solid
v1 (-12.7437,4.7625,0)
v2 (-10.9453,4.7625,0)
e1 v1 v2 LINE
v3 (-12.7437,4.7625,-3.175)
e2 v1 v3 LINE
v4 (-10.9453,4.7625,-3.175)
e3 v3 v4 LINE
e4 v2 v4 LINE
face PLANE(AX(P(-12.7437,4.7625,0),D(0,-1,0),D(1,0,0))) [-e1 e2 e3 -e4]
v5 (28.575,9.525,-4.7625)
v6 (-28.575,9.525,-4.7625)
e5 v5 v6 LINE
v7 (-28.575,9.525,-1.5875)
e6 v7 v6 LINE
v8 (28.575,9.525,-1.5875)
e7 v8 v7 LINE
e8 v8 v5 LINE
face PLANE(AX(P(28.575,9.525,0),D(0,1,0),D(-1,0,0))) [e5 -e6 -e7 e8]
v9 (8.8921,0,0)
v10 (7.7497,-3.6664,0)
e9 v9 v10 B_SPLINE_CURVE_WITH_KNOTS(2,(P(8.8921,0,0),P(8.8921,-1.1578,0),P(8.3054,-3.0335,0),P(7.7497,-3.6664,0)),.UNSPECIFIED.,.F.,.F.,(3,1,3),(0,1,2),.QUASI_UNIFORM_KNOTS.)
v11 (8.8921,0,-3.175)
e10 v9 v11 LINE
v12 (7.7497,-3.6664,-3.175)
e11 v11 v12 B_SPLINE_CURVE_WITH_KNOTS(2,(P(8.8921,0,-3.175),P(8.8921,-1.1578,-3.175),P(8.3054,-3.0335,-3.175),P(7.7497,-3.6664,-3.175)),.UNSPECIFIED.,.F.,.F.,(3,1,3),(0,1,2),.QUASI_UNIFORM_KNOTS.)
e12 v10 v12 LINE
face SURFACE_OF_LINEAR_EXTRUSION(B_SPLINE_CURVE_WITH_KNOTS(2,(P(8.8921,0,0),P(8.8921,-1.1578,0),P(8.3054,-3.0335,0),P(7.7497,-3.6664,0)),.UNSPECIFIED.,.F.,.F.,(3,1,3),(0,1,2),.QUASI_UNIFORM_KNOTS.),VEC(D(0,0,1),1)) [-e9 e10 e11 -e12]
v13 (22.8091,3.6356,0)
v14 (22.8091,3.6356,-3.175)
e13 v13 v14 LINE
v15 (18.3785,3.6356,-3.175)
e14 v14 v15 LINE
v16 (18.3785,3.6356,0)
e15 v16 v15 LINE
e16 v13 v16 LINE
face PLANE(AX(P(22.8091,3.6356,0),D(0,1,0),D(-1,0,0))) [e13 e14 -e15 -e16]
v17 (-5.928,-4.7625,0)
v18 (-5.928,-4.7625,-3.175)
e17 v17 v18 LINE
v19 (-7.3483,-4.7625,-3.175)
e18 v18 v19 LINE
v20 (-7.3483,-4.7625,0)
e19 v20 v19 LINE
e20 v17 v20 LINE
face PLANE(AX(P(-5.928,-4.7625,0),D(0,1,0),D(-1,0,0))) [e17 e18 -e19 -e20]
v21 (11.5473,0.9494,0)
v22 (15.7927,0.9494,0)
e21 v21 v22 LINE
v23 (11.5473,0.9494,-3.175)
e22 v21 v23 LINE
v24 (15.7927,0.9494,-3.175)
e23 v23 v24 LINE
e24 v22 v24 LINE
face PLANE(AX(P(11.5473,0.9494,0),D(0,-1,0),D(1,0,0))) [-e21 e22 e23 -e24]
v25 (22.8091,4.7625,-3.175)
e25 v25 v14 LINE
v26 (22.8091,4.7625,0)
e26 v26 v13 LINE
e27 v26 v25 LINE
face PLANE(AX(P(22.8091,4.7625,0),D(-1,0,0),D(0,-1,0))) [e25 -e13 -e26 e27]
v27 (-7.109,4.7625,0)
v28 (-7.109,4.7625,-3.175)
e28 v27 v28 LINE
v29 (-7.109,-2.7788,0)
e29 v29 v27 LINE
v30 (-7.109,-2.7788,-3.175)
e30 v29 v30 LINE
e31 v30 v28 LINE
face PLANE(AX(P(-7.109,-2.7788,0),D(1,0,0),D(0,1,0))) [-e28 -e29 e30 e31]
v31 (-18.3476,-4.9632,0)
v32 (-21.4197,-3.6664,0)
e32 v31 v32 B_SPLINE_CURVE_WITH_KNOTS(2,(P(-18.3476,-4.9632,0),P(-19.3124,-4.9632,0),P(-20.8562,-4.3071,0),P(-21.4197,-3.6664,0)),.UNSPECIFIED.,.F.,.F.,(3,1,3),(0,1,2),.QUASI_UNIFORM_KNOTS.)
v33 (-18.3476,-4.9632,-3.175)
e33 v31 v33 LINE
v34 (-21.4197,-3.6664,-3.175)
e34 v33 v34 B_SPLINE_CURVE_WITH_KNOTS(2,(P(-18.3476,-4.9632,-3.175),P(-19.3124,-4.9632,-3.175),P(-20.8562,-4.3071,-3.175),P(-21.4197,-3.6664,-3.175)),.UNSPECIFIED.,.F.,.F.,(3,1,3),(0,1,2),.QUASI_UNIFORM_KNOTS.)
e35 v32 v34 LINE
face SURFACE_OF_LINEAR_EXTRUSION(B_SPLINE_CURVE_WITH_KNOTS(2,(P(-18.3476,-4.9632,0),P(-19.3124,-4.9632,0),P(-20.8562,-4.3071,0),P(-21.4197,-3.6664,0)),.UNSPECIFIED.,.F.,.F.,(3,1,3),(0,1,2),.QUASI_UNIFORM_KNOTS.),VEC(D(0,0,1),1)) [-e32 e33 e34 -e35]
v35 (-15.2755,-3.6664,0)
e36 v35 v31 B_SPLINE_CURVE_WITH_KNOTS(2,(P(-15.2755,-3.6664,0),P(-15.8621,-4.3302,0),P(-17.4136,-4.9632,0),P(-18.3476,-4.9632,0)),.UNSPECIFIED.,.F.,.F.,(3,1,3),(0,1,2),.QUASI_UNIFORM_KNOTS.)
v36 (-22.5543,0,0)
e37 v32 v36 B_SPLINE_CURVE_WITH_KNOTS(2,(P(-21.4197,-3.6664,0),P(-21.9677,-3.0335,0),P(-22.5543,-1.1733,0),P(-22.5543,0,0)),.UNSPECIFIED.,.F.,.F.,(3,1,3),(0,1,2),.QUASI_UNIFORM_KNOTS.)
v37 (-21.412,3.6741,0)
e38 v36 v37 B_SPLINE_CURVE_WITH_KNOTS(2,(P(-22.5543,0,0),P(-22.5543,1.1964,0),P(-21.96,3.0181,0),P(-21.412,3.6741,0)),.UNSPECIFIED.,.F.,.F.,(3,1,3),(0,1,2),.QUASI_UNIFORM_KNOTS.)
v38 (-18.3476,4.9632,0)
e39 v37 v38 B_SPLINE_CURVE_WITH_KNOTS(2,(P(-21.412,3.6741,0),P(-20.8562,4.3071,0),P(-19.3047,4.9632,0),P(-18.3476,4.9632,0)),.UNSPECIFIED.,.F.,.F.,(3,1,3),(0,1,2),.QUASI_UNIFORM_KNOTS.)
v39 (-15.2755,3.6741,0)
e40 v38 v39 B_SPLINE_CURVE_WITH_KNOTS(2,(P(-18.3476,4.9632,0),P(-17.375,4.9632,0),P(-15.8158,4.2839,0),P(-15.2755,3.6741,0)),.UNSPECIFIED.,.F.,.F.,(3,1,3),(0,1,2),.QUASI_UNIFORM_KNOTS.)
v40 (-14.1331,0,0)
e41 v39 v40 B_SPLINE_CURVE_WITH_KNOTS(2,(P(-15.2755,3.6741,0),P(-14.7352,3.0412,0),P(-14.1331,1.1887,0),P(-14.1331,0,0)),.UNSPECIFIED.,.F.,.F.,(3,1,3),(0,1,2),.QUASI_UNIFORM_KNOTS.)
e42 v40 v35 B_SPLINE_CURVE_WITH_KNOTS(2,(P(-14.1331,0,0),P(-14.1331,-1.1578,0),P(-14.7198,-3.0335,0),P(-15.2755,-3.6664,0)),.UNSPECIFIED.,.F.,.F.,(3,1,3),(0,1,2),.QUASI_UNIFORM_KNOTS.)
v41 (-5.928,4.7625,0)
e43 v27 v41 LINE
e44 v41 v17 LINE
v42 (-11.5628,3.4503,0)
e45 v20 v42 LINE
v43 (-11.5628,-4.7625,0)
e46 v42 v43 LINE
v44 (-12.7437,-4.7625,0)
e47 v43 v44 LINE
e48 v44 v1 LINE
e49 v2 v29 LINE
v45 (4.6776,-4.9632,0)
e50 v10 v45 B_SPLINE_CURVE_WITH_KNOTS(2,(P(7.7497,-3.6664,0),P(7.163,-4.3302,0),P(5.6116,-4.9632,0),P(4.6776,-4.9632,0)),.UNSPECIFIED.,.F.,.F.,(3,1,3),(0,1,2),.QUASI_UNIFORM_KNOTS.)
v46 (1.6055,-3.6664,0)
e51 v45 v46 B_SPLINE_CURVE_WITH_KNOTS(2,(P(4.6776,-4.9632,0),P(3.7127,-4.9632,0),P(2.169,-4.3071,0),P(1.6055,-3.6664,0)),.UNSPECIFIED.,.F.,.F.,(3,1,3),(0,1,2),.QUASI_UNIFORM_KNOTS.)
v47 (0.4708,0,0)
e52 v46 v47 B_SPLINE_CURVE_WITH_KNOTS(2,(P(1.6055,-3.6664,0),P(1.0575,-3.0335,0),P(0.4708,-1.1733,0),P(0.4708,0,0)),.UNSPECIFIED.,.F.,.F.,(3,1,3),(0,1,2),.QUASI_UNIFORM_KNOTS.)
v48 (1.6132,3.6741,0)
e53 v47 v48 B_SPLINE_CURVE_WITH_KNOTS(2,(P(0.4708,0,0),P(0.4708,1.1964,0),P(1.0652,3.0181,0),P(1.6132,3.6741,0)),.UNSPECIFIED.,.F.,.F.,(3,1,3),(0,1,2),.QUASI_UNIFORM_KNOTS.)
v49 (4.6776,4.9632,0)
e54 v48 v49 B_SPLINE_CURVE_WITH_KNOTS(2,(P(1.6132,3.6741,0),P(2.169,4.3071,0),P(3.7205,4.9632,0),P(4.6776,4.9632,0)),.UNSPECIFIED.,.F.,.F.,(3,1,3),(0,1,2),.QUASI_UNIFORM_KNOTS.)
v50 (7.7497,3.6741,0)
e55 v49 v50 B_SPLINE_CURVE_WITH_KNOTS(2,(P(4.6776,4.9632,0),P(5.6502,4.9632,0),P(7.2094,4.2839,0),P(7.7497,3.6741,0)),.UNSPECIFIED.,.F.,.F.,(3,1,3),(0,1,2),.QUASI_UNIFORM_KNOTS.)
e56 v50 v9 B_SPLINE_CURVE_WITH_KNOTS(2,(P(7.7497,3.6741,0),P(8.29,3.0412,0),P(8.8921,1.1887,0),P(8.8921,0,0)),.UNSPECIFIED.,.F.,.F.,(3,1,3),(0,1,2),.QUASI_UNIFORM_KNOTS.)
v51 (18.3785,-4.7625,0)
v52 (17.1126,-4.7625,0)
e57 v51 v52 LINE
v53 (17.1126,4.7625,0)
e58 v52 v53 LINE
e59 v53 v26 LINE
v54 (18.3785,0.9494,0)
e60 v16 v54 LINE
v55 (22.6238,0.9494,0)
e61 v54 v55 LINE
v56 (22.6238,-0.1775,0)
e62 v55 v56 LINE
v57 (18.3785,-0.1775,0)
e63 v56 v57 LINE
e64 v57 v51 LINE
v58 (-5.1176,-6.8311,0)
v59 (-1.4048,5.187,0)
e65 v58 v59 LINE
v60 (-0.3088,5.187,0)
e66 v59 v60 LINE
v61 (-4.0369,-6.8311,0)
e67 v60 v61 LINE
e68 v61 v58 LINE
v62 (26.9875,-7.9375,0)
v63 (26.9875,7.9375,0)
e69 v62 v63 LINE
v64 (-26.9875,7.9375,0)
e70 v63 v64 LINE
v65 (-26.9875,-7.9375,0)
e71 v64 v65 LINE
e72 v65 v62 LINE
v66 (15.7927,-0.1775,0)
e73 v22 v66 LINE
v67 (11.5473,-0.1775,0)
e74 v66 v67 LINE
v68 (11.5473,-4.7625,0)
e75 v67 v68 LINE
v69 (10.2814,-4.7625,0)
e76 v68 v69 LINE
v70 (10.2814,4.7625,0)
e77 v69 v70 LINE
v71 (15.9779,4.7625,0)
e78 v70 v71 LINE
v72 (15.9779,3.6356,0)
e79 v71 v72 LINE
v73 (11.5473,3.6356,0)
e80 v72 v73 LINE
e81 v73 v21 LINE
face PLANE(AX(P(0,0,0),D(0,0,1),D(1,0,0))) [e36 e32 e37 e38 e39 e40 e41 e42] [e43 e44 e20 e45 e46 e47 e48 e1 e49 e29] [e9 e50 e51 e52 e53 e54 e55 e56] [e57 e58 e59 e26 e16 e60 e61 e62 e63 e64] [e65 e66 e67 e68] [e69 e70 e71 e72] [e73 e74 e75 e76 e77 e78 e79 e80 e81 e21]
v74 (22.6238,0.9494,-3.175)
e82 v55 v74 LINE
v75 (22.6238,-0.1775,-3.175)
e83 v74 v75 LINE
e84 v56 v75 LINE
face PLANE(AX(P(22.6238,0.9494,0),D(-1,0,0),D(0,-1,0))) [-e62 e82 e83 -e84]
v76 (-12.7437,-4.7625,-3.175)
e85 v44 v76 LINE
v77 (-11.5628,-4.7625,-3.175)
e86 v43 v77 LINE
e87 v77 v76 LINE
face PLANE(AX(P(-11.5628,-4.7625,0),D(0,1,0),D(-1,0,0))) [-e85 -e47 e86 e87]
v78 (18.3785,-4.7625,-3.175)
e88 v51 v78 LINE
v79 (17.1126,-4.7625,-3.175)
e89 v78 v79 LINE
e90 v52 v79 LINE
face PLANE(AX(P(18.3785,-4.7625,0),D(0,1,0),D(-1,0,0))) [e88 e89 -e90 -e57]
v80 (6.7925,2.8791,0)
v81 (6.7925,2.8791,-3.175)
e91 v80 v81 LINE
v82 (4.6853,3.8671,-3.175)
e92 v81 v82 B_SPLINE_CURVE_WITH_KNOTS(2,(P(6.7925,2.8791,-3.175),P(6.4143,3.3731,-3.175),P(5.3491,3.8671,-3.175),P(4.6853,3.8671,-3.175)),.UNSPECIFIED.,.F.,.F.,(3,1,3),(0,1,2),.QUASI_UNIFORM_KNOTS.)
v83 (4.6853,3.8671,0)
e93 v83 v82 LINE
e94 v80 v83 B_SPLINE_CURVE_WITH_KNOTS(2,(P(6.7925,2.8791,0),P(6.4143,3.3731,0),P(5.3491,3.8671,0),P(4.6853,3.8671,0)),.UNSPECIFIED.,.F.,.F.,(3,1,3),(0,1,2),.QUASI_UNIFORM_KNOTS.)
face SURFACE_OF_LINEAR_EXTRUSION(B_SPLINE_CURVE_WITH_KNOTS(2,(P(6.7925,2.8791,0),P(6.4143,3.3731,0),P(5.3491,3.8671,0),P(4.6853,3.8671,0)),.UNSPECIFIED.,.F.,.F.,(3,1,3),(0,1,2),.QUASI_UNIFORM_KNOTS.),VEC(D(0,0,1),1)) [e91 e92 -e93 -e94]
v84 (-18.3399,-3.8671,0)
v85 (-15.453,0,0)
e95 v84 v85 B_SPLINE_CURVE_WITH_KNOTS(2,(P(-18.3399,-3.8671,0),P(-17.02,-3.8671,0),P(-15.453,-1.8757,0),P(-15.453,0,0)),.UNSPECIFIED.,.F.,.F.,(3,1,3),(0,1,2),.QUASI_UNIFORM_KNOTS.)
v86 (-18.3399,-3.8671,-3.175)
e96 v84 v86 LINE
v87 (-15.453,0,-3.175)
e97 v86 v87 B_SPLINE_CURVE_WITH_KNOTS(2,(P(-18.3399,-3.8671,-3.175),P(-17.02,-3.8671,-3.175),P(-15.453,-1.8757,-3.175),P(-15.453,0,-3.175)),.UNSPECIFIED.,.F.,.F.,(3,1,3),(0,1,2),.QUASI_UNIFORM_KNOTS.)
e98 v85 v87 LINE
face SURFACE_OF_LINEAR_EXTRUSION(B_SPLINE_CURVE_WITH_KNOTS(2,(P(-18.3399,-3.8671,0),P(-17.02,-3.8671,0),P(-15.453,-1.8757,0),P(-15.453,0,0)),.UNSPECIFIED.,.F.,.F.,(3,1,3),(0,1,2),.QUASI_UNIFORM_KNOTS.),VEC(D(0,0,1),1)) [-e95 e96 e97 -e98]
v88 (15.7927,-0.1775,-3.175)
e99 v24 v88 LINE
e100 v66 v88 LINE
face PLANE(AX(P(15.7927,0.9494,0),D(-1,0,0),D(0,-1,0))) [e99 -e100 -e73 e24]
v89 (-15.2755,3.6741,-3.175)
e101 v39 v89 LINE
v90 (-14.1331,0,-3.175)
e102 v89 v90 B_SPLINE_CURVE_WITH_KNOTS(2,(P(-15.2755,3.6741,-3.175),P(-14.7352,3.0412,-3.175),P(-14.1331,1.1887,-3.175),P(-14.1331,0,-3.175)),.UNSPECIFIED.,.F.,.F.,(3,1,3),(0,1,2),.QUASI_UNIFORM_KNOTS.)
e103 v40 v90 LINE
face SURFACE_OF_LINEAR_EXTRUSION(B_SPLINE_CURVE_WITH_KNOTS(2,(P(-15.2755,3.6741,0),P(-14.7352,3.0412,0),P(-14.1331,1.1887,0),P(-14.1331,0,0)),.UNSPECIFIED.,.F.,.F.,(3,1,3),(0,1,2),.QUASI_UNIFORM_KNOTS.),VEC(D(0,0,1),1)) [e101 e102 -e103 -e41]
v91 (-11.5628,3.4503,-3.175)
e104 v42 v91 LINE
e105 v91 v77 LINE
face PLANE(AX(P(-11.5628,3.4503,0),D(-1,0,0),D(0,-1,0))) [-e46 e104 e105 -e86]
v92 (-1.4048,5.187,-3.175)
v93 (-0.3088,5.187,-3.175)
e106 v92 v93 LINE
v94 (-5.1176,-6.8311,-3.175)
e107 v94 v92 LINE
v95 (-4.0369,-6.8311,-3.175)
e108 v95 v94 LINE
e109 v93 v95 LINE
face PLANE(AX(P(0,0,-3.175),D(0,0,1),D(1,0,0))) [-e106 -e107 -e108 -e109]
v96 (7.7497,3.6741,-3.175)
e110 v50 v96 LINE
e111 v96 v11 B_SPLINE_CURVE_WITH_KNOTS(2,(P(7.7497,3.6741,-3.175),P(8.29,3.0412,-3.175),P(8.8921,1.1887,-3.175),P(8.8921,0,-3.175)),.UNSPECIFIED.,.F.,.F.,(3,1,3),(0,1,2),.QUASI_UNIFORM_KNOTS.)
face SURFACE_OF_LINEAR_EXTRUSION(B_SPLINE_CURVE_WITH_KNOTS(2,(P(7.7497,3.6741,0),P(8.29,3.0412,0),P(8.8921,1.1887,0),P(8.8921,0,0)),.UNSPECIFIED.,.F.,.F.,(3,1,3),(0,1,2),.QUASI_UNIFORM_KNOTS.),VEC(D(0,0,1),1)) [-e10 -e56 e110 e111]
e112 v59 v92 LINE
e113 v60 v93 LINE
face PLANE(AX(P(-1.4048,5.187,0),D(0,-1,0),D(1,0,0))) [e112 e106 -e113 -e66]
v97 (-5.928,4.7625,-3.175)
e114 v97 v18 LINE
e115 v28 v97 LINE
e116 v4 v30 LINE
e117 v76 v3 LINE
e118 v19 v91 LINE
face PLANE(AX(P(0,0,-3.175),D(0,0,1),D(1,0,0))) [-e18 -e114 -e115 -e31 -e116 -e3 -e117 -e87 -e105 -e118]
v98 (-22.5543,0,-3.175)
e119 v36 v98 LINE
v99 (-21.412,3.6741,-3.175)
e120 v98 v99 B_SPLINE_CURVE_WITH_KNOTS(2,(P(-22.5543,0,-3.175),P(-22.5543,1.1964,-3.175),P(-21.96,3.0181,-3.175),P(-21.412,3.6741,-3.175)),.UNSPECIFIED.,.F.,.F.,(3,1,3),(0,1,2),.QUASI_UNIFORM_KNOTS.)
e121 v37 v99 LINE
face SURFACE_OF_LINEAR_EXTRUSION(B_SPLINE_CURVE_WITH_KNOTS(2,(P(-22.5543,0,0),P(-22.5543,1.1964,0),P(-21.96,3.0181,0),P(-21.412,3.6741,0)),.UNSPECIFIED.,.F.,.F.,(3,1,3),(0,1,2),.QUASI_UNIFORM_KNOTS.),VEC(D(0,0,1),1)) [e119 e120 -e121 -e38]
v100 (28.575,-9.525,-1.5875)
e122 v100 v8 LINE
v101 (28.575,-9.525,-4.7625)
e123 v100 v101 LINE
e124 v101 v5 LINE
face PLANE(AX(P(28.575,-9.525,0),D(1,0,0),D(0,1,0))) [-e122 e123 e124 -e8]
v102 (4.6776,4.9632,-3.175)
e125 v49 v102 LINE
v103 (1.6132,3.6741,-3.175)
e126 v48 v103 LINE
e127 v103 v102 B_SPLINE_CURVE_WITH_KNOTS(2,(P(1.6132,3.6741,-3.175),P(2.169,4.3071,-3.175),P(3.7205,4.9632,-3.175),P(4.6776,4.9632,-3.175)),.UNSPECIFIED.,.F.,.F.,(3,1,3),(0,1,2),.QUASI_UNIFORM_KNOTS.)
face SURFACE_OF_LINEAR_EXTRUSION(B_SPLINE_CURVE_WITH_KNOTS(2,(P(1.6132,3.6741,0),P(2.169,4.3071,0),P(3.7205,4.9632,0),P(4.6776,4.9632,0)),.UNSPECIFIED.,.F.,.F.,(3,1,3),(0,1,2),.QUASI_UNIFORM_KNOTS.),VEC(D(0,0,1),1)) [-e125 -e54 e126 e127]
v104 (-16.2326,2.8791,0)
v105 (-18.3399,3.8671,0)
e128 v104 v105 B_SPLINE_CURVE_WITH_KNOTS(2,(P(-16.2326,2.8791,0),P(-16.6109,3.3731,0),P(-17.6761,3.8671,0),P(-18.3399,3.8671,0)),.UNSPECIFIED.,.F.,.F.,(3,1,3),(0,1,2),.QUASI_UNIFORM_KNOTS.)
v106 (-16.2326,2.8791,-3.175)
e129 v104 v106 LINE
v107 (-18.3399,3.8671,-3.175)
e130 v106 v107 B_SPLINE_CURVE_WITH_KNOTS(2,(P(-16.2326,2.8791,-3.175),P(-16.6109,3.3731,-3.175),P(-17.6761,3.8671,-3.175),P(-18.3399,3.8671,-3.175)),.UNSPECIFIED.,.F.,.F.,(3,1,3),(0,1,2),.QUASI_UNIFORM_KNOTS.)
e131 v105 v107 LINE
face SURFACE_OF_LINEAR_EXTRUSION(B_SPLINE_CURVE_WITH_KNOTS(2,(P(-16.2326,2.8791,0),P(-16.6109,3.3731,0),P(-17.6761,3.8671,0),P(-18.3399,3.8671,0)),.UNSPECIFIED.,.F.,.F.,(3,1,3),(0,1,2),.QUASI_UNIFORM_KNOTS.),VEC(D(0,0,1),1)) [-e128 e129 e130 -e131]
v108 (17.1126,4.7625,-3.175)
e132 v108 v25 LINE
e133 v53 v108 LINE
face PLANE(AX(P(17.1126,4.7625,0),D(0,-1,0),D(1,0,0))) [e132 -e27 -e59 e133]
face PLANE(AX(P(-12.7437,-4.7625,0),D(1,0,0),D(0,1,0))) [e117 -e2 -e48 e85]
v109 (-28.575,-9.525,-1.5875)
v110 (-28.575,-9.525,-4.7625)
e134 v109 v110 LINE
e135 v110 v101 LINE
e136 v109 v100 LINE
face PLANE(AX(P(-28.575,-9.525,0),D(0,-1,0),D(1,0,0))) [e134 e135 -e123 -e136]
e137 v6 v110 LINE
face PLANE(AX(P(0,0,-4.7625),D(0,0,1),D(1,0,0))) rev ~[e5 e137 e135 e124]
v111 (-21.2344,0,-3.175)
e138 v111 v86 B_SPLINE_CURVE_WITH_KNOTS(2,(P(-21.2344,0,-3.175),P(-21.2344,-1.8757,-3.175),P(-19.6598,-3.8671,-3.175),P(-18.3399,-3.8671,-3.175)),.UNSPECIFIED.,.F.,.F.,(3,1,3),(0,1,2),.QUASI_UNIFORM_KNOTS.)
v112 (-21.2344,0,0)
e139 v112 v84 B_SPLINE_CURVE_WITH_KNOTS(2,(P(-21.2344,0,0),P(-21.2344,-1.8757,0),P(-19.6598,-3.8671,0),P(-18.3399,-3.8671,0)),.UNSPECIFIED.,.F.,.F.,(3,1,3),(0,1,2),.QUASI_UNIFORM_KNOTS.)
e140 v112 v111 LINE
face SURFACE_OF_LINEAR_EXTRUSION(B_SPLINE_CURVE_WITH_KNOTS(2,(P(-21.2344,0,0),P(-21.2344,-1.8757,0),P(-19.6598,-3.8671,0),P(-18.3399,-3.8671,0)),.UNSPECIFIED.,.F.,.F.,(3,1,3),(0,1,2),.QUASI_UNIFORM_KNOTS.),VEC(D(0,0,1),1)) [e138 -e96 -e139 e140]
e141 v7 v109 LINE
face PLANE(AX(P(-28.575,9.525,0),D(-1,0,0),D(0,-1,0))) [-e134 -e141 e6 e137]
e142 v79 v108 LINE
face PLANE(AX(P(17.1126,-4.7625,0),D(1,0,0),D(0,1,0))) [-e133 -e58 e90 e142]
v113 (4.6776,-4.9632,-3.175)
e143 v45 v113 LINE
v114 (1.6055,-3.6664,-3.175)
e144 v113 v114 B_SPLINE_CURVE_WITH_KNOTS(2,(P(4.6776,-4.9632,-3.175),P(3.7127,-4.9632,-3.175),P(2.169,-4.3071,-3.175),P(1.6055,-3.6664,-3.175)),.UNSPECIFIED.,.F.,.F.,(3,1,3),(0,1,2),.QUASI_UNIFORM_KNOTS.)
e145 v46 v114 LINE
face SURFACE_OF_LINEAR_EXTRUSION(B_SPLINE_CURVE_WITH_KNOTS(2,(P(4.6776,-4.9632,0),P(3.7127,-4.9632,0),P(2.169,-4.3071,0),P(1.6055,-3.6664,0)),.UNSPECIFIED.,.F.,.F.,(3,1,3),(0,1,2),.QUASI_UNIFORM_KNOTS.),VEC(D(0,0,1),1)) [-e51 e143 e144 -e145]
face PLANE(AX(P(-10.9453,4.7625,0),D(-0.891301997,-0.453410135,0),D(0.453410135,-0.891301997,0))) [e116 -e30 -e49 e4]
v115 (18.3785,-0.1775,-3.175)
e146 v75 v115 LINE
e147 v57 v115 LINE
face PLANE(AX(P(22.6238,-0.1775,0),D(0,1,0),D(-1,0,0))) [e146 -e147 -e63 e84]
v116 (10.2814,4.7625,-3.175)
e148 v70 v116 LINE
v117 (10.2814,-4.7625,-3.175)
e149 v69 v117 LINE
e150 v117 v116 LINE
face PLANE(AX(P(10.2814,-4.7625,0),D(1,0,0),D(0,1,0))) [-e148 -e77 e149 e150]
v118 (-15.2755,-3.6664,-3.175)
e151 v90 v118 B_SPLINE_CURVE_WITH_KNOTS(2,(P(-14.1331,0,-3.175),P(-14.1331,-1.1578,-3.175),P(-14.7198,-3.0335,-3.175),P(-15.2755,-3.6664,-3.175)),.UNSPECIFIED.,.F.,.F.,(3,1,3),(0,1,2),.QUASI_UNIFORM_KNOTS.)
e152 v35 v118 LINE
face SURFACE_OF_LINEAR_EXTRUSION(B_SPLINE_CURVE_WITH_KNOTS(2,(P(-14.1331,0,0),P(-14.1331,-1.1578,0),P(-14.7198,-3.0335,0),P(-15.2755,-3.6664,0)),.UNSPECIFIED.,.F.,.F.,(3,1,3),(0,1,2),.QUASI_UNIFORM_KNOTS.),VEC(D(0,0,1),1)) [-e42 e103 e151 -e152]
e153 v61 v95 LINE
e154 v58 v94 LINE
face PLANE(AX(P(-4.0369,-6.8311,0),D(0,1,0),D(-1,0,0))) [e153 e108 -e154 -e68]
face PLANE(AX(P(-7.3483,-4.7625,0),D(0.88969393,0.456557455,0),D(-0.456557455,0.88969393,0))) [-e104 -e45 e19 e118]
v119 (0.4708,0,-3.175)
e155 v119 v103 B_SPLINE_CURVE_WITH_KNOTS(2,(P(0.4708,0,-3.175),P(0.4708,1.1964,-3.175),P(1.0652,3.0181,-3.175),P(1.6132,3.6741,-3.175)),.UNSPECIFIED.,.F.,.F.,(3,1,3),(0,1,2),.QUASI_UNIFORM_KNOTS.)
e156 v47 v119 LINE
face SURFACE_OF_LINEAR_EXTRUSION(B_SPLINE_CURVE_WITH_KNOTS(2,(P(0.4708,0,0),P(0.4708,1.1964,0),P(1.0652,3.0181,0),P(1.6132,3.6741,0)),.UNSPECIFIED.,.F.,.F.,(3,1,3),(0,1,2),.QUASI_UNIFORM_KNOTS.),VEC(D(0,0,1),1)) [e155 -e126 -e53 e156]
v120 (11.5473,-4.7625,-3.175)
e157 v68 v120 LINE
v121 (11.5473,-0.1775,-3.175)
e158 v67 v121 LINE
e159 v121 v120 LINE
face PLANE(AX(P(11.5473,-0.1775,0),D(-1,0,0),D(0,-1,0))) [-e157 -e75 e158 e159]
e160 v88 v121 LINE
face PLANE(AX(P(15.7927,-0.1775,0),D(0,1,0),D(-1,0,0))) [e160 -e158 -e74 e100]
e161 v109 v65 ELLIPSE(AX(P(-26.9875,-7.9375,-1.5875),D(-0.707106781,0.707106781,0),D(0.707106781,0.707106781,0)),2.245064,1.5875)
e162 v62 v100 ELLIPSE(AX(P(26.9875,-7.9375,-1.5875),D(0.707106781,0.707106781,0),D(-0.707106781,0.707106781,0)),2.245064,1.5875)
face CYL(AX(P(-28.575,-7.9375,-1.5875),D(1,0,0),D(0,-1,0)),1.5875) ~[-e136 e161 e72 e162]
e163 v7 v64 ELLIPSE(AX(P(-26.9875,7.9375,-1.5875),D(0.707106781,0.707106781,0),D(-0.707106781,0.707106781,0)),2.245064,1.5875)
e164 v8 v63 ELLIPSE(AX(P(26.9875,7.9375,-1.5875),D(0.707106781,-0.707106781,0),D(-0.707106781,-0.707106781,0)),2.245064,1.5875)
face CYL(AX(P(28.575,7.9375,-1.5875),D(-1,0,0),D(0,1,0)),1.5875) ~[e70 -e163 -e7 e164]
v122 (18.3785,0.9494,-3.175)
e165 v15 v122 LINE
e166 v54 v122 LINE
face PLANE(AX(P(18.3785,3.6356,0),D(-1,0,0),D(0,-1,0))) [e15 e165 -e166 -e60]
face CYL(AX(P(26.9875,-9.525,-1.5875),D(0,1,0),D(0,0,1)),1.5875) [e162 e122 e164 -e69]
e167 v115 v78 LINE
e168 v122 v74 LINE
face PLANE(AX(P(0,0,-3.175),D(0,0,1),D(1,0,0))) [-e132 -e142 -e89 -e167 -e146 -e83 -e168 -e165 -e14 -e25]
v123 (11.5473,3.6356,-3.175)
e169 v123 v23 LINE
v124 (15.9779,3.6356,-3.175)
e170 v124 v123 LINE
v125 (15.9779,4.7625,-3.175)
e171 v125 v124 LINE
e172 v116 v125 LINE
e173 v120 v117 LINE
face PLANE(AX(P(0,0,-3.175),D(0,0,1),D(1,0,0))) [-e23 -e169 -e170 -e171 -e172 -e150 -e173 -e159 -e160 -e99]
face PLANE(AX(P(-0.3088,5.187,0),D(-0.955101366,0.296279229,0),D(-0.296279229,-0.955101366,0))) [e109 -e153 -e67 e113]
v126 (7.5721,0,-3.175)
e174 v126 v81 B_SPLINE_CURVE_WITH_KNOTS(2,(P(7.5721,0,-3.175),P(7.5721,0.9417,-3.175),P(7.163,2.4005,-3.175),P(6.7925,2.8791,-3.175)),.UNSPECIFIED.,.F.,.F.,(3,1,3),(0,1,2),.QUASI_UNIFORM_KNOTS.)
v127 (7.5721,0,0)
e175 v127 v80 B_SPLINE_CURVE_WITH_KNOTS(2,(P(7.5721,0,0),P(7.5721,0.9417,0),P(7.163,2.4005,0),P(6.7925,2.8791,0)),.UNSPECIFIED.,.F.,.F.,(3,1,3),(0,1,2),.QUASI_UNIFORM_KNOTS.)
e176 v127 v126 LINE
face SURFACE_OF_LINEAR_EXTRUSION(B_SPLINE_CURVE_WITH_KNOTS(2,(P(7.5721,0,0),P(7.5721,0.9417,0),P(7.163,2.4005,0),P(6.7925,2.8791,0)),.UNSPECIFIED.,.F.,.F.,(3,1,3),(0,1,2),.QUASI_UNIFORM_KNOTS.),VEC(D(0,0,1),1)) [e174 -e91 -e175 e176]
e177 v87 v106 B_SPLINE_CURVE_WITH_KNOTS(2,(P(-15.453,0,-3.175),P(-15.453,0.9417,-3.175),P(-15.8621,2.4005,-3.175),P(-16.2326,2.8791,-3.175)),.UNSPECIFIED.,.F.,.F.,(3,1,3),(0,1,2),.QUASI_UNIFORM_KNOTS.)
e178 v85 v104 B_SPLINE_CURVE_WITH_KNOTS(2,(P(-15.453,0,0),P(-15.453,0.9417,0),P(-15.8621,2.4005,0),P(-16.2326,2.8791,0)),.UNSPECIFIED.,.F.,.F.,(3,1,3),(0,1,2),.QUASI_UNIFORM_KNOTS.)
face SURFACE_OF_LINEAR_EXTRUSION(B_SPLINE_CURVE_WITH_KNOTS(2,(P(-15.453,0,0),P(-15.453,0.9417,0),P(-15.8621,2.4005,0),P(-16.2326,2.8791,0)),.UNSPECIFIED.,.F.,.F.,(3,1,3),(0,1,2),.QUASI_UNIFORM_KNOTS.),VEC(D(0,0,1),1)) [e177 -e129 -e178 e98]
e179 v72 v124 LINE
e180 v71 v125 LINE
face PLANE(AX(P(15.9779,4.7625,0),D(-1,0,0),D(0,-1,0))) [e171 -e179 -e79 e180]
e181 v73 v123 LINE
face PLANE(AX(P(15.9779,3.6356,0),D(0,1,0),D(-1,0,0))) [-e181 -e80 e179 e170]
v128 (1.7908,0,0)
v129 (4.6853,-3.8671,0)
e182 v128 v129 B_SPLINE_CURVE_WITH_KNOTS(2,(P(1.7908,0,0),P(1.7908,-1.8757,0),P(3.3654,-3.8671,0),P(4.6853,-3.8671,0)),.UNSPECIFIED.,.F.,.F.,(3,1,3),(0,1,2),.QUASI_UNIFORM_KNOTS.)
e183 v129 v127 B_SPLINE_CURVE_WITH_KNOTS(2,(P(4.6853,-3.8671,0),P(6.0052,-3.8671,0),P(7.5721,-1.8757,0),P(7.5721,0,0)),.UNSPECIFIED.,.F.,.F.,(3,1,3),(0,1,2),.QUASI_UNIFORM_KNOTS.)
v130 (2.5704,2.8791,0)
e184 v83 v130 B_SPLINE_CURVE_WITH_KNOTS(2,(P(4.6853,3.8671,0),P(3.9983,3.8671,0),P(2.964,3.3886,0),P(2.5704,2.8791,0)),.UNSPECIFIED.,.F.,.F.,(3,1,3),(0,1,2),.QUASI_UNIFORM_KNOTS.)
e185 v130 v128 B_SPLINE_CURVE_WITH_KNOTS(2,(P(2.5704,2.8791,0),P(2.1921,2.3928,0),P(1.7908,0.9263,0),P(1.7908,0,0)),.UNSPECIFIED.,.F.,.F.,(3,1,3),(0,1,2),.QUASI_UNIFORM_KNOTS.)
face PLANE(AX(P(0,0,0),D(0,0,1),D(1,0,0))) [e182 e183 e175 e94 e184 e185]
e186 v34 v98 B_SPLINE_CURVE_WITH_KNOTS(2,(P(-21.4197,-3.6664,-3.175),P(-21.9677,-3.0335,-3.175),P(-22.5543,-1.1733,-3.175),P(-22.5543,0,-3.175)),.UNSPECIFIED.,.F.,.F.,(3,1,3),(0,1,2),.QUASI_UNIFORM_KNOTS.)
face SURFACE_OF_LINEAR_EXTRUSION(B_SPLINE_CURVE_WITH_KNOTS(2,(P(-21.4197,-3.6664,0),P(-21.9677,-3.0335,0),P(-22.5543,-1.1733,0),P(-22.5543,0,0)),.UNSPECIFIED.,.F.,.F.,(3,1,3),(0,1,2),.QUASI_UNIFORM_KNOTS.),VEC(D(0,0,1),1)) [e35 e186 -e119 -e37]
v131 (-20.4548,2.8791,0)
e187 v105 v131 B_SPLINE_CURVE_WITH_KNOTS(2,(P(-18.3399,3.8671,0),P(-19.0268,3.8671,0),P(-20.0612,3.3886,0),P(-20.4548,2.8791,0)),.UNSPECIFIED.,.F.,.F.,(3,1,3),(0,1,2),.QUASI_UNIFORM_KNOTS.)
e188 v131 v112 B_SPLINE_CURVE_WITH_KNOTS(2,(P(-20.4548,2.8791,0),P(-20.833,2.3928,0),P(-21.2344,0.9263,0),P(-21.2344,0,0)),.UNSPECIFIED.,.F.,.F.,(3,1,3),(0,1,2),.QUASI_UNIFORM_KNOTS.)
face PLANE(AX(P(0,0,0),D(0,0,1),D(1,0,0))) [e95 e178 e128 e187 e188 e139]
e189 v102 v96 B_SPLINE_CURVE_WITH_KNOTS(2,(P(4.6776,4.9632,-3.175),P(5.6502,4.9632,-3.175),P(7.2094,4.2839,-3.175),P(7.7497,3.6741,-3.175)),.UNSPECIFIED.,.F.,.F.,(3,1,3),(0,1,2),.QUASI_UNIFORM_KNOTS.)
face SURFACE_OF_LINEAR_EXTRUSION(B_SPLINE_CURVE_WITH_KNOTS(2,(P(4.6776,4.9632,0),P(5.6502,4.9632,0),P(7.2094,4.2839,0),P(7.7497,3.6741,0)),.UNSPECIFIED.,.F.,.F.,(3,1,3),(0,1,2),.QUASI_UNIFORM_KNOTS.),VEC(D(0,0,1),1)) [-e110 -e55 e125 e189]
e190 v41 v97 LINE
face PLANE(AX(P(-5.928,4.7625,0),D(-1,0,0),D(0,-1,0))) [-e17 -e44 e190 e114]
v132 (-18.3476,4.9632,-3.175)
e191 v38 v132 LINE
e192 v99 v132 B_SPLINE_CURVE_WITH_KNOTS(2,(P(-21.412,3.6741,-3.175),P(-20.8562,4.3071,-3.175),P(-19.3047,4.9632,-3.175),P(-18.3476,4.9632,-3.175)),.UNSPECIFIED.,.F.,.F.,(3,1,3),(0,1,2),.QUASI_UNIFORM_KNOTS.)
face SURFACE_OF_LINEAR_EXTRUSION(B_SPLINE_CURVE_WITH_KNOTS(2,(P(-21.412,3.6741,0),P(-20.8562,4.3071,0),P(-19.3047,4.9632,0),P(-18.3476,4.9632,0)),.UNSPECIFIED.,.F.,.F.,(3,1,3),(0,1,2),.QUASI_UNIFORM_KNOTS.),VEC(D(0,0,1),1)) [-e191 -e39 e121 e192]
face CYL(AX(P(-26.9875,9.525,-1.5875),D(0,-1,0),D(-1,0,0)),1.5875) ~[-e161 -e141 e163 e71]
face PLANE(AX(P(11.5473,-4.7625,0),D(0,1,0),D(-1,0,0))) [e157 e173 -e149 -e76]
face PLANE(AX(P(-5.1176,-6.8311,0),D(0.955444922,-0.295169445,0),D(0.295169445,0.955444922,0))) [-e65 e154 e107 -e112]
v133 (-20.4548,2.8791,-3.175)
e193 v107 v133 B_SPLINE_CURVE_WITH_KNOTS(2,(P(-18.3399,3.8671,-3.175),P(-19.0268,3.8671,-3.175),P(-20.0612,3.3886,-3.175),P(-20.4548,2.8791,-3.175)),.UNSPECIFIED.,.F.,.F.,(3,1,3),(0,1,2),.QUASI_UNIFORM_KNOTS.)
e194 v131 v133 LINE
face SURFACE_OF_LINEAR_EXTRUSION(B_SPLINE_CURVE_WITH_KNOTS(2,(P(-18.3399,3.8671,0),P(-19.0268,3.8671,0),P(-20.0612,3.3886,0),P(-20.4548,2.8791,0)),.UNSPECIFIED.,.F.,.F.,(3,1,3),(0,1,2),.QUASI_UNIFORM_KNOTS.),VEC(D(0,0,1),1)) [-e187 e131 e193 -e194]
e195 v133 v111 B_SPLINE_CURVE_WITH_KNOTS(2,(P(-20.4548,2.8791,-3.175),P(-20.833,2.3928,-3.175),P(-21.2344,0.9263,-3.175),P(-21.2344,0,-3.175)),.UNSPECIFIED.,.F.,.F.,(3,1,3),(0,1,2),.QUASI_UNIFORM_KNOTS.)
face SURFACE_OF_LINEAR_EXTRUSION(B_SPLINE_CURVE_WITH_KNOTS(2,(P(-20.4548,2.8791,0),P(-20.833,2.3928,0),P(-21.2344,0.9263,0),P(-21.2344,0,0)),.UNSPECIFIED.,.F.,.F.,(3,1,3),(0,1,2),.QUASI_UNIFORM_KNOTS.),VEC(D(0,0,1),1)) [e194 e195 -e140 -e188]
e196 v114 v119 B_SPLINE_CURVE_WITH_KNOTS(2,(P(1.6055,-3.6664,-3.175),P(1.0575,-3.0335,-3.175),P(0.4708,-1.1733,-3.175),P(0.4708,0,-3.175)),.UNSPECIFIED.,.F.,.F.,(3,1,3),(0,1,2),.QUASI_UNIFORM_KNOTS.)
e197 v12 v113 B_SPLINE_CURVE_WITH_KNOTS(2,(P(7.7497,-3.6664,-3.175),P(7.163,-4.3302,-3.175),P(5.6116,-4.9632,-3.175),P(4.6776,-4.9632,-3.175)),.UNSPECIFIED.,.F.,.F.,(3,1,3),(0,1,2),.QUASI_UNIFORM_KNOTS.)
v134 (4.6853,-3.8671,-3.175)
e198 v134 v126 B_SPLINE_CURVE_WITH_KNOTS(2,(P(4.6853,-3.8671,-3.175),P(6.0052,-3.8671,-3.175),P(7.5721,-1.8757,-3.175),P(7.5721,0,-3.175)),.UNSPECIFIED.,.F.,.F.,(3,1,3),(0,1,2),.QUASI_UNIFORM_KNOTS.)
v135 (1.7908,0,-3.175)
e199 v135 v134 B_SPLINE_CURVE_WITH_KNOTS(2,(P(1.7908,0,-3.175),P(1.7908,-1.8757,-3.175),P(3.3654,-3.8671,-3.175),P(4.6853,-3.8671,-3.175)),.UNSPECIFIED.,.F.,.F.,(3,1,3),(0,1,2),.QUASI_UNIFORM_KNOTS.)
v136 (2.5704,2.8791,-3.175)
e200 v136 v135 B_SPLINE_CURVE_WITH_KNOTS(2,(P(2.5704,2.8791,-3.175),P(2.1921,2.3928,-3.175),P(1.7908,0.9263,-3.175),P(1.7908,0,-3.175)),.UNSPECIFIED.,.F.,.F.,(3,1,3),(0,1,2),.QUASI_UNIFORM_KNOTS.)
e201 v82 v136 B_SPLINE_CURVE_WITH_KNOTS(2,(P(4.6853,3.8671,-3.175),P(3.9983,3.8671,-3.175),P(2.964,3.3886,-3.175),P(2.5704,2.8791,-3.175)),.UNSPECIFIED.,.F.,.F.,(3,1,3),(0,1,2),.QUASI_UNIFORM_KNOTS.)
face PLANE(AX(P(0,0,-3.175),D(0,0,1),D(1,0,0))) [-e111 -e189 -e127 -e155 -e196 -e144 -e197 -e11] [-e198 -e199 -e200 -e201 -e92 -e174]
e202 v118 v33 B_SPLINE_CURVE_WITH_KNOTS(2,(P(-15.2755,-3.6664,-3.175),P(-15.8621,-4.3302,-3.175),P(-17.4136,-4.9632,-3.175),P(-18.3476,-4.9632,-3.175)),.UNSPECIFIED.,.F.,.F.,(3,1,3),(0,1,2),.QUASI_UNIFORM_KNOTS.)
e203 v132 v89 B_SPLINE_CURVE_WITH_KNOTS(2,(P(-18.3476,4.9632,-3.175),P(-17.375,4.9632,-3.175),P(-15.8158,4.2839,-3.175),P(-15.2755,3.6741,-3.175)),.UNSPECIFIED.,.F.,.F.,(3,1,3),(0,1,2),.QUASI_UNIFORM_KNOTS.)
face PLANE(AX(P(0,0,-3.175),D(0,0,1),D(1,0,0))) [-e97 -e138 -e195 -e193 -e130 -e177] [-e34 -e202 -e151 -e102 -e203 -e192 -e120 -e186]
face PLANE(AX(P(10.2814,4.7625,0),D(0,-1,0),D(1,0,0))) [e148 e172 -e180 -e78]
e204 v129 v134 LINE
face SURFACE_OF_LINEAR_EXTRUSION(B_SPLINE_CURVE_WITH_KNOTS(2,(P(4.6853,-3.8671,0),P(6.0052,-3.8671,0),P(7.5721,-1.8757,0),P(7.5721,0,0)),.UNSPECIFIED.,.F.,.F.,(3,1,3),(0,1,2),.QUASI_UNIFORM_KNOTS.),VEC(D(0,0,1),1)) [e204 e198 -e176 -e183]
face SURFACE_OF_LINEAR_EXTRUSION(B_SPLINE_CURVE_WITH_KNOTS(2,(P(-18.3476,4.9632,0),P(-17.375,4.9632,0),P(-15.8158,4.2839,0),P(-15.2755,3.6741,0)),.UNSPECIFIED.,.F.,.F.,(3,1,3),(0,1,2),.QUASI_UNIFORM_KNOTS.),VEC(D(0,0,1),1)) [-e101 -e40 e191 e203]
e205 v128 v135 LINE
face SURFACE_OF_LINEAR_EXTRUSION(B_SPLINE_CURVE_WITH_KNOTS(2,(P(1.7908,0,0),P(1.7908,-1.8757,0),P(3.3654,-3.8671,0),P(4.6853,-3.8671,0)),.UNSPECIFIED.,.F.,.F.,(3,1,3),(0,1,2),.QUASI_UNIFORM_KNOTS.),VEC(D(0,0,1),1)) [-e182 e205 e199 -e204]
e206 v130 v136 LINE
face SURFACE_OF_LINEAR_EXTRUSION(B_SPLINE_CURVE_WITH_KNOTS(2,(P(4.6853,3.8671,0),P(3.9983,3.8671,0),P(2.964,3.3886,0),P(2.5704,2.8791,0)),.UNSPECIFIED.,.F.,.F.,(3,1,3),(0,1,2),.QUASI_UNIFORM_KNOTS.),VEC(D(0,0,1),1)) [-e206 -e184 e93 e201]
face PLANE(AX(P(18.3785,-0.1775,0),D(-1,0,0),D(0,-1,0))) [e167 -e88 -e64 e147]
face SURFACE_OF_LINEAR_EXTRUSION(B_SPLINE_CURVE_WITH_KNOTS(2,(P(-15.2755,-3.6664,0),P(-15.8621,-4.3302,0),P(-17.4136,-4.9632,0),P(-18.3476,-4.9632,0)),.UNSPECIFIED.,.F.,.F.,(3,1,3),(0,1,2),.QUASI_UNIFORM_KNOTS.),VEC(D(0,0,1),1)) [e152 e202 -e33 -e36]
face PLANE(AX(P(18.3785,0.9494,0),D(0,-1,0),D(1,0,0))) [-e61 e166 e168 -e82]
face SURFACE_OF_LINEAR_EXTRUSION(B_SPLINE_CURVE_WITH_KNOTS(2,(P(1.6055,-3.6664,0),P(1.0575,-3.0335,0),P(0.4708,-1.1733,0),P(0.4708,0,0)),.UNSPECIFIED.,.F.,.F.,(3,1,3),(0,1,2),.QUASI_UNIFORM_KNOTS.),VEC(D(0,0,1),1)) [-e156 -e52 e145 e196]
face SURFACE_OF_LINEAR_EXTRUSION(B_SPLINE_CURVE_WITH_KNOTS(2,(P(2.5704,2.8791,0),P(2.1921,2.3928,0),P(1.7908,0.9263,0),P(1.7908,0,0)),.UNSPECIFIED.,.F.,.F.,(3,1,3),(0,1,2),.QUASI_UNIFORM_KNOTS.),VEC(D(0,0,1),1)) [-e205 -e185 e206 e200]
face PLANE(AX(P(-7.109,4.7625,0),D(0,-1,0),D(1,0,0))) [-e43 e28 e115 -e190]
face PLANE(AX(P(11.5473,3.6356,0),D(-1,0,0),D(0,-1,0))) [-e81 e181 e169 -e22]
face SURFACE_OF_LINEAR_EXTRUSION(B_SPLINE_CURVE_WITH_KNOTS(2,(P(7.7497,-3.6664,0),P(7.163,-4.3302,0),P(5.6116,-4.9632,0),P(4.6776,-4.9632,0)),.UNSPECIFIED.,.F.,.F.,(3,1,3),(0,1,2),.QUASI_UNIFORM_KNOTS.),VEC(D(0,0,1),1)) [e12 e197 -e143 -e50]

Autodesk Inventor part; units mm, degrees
ref_plane "YZ Plane" through (0, 0, 0) normal (1, 0, 0) x (0, 1, 0)
ref_plane "XZ Plane" through (0, 0, 0) normal (0, 1, 0) x (-1, 0, 0)
ref_plane "XY Plane" through (0, 0, 0) normal (0, 0, 1) x (1, 0, 0)
sketch "Sketch1" plane through (0, 0, 0) normal (0, 0, 1) x (1, 0, 0)
  line L0 (-28.575, -9.525) -> (28.575, -9.525)
  line L1 (28.575, -9.525) -> (28.575, 9.525)
  line L2 (28.575, 9.525) -> (-28.575, 9.525)
  line L3 (-28.575, 9.525) -> (-28.575, -9.525)
  line L4 (-28.575, -9.525) -> (28.575, 9.525) construction
  line L5 (28.575, -9.525) -> (-28.575, 9.525) construction
  point P0 (0, 0)
  dimension "d0" = 57.15
  dimension "d1" = 19.05
extrude "Extrusion1" add sketch "Sketch1" against normal blind 4.7625
sketch "Sketch2" plane through (0, 0, 0) normal (0, 0, 1) x (1, 0, 0)
  line L0 (-28.575, -9.525) -> (-28.575, 9.525) construction
  line L1 (-28.575, 0) -> (28.575, 0) construction
  line L2 (28.575, 9.525) -> (28.575, -9.525) construction
  spline S0 degree 2 poles (-15.2755, 3.6741) (-14.7352, 3.0412) (-14.1331, 1.1887) (-14.1331, 0) knots 0 0 0 1 2 2 2
  spline S1 degree 2 poles (-14.1331, 0) (-14.1331, -1.1578) (-14.7198, -3.0335) (-15.2755, -3.6664) knots 0 0 0 1 2 2 2
  spline S2 degree 2 poles (-15.2755, -3.6664) (-15.8621, -4.3302) (-17.4136, -4.9632) (-18.3476, -4.9632) knots 0 0 0 1 2 2 2
  spline S3 degree 2 poles (-18.3476, -4.9632) (-19.3124, -4.9632) (-20.8562, -4.3071) (-21.4197, -3.6664) knots 0 0 0 1 2 2 2
  spline S4 degree 2 poles (-21.4197, -3.6664) (-21.9677, -3.0335) (-22.5543, -1.1733) (-22.5543, 0) knots 0 0 0 1 2 2 2
  spline S5 degree 2 poles (-22.5543, 0) (-22.5543, 1.1964) (-21.96, 3.0181) (-21.412, 3.6741) knots 0 0 0 1 2 2 2
  spline S6 degree 2 poles (-21.412, 3.6741) (-20.8562, 4.3071) (-19.3047, 4.9632) (-18.3476, 4.9632) knots 0 0 0 1 2 2 2
  spline S7 degree 2 poles (-18.3476, 4.9632) (-17.375, 4.9632) (-15.8158, 4.2839) (-15.2755, 3.6741) knots 0 0 0 1 2 2 2
  spline S8 degree 2 poles (-15.453, 0) (-15.453, 0.9417) (-15.8621, 2.4005) (-16.2326, 2.8791) knots 0 0 0 1 2 2 2
  spline S9 degree 2 poles (-16.2326, 2.8791) (-16.6109, 3.3731) (-17.6761, 3.8671) (-18.3399, 3.8671) knots 0 0 0 1 2 2 2
  spline S10 degree 2 poles (-18.3399, 3.8671) (-19.0268, 3.8671) (-20.0612, 3.3886) (-20.4548, 2.8791) knots 0 0 0 1 2 2 2
  spline S11 degree 2 poles (-20.4548, 2.8791) (-20.833, 2.3928) (-21.2344, 0.9263) (-21.2344, 0) knots 0 0 0 1 2 2 2
  spline S12 degree 2 poles (-21.2344, 0) (-21.2344, -1.8757) (-19.6598, -3.8671) (-18.3399, -3.8671) knots 0 0 0 1 2 2 2
  spline S13 degree 2 poles (-18.3399, -3.8671) (-17.02, -3.8671) (-15.453, -1.8757) (-15.453, 0) knots 0 0 0 1 2 2 2
  line L3 (-5.928, -4.7625) -> (-7.3483, -4.7625)
  line L4 (-7.3483, -4.7625) -> (-11.5628, 3.4503)
  line L5 (-11.5628, 3.4503) -> (-11.5628, -4.7625)
  line L6 (-11.5628, -4.7625) -> (-12.7437, -4.7625)
  line L7 (-12.7437, -4.7625) -> (-12.7437, 4.7625)
  line L8 (-12.7437, 4.7625) -> (-10.9453, 4.7625)
  line L9 (-10.9453, 4.7625) -> (-7.109, -2.7788)
  line L10 (-7.109, -2.7788) -> (-7.109, 4.7625)
  line L11 (-7.109, 4.7625) -> (-5.928, 4.7625)
  line L12 (-5.928, 4.7625) -> (-5.928, -4.7625)
  line L13 (-0.3088, 5.187) -> (-4.0369, -6.8311)
  line L14 (-4.0369, -6.8311) -> (-5.1176, -6.8311)
  line L15 (-5.1176, -6.8311) -> (-1.4048, 5.187)
  line L16 (-1.4048, 5.187) -> (-0.3088, 5.187)
  spline S14 degree 2 poles (7.7497, 3.6741) (8.29, 3.0412) (8.8921, 1.1887) (8.8921, 0) knots 0 0 0 1 2 2 2
  spline S15 degree 2 poles (8.8921, 0) (8.8921, -1.1578) (8.3054, -3.0335) (7.7497, -3.6664) knots 0 0 0 1 2 2 2
  spline S16 degree 2 poles (7.7497, -3.6664) (7.163, -4.3302) (5.6116, -4.9632) (4.6776, -4.9632) knots 0 0 0 1 2 2 2
  spline S17 degree 2 poles (4.6776, -4.9632) (3.7127, -4.9632) (2.169, -4.3071) (1.6055, -3.6664) knots 0 0 0 1 2 2 2
  spline S18 degree 2 poles (1.6055, -3.6664) (1.0575, -3.0335) (0.4708, -1.1733) (0.4708, 0) knots 0 0 0 1 2 2 2
  spline S19 degree 2 poles (0.4708, 0) (0.4708, 1.1964) (1.0652, 3.0181) (1.6132, 3.6741) knots 0 0 0 1 2 2 2
  spline S20 degree 2 poles (1.6132, 3.6741) (2.169, 4.3071) (3.7205, 4.9632) (4.6776, 4.9632) knots 0 0 0 1 2 2 2
  spline S21 degree 2 poles (4.6776, 4.9632) (5.6502, 4.9632) (7.2094, 4.2839) (7.7497, 3.6741) knots 0 0 0 1 2 2 2
  spline S22 degree 2 poles (7.5721, 0) (7.5721, 0.9417) (7.163, 2.4005) (6.7925, 2.8791) knots 0 0 0 1 2 2 2
  spline S23 degree 2 poles (6.7925, 2.8791) (6.4143, 3.3731) (5.3491, 3.8671) (4.6853, 3.8671) knots 0 0 0 1 2 2 2
  spline S24 degree 2 poles (4.6853, 3.8671) (3.9983, 3.8671) (2.964, 3.3886) (2.5704, 2.8791) knots 0 0 0 1 2 2 2
  spline S25 degree 2 poles (2.5704, 2.8791) (2.1921, 2.3928) (1.7908, 0.9263) (1.7908, 0) knots 0 0 0 1 2 2 2
  spline S26 degree 2 poles (1.7908, 0) (1.7908, -1.8757) (3.3654, -3.8671) (4.6853, -3.8671) knots 0 0 0 1 2 2 2
  spline S27 degree 2 poles (4.6853, -3.8671) (6.0052, -3.8671) (7.5721, -1.8757) (7.5721, 0) knots 0 0 0 1 2 2 2
  line L17 (15.9779, 3.6356) -> (11.5473, 3.6356)
  line L18 (11.5473, 3.6356) -> (11.5473, 0.9494)
  line L19 (11.5473, 0.9494) -> (15.7927, 0.9494)
  line L20 (15.7927, 0.9494) -> (15.7927, -0.1775)
  line L21 (15.7927, -0.1775) -> (11.5473, -0.1775)
  line L22 (11.5473, -0.1775) -> (11.5473, -4.7625)
  line L23 (11.5473, -4.7625) -> (10.2814, -4.7625)
  line L24 (10.2814, -4.7625) -> (10.2814, 4.7625)
  line L25 (10.2814, 4.7625) -> (15.9779, 4.7625)
  line L26 (15.9779, 4.7625) -> (15.9779, 3.6356)
  line L27 (22.8091, 3.6356) -> (18.3785, 3.6356)
  line L28 (18.3785, 3.6356) -> (18.3785, 0.9494)
  line L29 (18.3785, 0.9494) -> (22.6238, 0.9494)
  line L30 (22.6238, 0.9494) -> (22.6238, -0.1775)
  line L31 (22.6238, -0.1775) -> (18.3785, -0.1775)
  line L32 (18.3785, -0.1775) -> (18.3785, -4.7625)
  line L33 (18.3785, -4.7625) -> (17.1126, -4.7625)
  line L34 (17.1126, -4.7625) -> (17.1126, 4.7625)
  line L35 (17.1126, 4.7625) -> (22.8091, 4.7625)
  line L36 (22.8091, 4.7625) -> (22.8091, 3.6356)
  point P0 (0, 0)
extrude "Extrusion2" cut sketch "Sketch2" against normal blind 3.175
fillet "Fillet1" radius 1.5875 4 edges at (0, 9.525, 0) (28.575, 0, 0) (0, -9.525, 0) (-28.575, 0, 0)
equation "\"d0\" = width"
equation "\"d1\" = height"
equation "\"d2\" = depth"
equation "\"d13\" = textDepth"
equation "\"width\" = 57.15"
equation "\"height\" = 19.05"
equation "\"depth\" = 4.7625"
equation "\"textDepth\" = 0.666667 * depth"
properties part number "onOffSign"
